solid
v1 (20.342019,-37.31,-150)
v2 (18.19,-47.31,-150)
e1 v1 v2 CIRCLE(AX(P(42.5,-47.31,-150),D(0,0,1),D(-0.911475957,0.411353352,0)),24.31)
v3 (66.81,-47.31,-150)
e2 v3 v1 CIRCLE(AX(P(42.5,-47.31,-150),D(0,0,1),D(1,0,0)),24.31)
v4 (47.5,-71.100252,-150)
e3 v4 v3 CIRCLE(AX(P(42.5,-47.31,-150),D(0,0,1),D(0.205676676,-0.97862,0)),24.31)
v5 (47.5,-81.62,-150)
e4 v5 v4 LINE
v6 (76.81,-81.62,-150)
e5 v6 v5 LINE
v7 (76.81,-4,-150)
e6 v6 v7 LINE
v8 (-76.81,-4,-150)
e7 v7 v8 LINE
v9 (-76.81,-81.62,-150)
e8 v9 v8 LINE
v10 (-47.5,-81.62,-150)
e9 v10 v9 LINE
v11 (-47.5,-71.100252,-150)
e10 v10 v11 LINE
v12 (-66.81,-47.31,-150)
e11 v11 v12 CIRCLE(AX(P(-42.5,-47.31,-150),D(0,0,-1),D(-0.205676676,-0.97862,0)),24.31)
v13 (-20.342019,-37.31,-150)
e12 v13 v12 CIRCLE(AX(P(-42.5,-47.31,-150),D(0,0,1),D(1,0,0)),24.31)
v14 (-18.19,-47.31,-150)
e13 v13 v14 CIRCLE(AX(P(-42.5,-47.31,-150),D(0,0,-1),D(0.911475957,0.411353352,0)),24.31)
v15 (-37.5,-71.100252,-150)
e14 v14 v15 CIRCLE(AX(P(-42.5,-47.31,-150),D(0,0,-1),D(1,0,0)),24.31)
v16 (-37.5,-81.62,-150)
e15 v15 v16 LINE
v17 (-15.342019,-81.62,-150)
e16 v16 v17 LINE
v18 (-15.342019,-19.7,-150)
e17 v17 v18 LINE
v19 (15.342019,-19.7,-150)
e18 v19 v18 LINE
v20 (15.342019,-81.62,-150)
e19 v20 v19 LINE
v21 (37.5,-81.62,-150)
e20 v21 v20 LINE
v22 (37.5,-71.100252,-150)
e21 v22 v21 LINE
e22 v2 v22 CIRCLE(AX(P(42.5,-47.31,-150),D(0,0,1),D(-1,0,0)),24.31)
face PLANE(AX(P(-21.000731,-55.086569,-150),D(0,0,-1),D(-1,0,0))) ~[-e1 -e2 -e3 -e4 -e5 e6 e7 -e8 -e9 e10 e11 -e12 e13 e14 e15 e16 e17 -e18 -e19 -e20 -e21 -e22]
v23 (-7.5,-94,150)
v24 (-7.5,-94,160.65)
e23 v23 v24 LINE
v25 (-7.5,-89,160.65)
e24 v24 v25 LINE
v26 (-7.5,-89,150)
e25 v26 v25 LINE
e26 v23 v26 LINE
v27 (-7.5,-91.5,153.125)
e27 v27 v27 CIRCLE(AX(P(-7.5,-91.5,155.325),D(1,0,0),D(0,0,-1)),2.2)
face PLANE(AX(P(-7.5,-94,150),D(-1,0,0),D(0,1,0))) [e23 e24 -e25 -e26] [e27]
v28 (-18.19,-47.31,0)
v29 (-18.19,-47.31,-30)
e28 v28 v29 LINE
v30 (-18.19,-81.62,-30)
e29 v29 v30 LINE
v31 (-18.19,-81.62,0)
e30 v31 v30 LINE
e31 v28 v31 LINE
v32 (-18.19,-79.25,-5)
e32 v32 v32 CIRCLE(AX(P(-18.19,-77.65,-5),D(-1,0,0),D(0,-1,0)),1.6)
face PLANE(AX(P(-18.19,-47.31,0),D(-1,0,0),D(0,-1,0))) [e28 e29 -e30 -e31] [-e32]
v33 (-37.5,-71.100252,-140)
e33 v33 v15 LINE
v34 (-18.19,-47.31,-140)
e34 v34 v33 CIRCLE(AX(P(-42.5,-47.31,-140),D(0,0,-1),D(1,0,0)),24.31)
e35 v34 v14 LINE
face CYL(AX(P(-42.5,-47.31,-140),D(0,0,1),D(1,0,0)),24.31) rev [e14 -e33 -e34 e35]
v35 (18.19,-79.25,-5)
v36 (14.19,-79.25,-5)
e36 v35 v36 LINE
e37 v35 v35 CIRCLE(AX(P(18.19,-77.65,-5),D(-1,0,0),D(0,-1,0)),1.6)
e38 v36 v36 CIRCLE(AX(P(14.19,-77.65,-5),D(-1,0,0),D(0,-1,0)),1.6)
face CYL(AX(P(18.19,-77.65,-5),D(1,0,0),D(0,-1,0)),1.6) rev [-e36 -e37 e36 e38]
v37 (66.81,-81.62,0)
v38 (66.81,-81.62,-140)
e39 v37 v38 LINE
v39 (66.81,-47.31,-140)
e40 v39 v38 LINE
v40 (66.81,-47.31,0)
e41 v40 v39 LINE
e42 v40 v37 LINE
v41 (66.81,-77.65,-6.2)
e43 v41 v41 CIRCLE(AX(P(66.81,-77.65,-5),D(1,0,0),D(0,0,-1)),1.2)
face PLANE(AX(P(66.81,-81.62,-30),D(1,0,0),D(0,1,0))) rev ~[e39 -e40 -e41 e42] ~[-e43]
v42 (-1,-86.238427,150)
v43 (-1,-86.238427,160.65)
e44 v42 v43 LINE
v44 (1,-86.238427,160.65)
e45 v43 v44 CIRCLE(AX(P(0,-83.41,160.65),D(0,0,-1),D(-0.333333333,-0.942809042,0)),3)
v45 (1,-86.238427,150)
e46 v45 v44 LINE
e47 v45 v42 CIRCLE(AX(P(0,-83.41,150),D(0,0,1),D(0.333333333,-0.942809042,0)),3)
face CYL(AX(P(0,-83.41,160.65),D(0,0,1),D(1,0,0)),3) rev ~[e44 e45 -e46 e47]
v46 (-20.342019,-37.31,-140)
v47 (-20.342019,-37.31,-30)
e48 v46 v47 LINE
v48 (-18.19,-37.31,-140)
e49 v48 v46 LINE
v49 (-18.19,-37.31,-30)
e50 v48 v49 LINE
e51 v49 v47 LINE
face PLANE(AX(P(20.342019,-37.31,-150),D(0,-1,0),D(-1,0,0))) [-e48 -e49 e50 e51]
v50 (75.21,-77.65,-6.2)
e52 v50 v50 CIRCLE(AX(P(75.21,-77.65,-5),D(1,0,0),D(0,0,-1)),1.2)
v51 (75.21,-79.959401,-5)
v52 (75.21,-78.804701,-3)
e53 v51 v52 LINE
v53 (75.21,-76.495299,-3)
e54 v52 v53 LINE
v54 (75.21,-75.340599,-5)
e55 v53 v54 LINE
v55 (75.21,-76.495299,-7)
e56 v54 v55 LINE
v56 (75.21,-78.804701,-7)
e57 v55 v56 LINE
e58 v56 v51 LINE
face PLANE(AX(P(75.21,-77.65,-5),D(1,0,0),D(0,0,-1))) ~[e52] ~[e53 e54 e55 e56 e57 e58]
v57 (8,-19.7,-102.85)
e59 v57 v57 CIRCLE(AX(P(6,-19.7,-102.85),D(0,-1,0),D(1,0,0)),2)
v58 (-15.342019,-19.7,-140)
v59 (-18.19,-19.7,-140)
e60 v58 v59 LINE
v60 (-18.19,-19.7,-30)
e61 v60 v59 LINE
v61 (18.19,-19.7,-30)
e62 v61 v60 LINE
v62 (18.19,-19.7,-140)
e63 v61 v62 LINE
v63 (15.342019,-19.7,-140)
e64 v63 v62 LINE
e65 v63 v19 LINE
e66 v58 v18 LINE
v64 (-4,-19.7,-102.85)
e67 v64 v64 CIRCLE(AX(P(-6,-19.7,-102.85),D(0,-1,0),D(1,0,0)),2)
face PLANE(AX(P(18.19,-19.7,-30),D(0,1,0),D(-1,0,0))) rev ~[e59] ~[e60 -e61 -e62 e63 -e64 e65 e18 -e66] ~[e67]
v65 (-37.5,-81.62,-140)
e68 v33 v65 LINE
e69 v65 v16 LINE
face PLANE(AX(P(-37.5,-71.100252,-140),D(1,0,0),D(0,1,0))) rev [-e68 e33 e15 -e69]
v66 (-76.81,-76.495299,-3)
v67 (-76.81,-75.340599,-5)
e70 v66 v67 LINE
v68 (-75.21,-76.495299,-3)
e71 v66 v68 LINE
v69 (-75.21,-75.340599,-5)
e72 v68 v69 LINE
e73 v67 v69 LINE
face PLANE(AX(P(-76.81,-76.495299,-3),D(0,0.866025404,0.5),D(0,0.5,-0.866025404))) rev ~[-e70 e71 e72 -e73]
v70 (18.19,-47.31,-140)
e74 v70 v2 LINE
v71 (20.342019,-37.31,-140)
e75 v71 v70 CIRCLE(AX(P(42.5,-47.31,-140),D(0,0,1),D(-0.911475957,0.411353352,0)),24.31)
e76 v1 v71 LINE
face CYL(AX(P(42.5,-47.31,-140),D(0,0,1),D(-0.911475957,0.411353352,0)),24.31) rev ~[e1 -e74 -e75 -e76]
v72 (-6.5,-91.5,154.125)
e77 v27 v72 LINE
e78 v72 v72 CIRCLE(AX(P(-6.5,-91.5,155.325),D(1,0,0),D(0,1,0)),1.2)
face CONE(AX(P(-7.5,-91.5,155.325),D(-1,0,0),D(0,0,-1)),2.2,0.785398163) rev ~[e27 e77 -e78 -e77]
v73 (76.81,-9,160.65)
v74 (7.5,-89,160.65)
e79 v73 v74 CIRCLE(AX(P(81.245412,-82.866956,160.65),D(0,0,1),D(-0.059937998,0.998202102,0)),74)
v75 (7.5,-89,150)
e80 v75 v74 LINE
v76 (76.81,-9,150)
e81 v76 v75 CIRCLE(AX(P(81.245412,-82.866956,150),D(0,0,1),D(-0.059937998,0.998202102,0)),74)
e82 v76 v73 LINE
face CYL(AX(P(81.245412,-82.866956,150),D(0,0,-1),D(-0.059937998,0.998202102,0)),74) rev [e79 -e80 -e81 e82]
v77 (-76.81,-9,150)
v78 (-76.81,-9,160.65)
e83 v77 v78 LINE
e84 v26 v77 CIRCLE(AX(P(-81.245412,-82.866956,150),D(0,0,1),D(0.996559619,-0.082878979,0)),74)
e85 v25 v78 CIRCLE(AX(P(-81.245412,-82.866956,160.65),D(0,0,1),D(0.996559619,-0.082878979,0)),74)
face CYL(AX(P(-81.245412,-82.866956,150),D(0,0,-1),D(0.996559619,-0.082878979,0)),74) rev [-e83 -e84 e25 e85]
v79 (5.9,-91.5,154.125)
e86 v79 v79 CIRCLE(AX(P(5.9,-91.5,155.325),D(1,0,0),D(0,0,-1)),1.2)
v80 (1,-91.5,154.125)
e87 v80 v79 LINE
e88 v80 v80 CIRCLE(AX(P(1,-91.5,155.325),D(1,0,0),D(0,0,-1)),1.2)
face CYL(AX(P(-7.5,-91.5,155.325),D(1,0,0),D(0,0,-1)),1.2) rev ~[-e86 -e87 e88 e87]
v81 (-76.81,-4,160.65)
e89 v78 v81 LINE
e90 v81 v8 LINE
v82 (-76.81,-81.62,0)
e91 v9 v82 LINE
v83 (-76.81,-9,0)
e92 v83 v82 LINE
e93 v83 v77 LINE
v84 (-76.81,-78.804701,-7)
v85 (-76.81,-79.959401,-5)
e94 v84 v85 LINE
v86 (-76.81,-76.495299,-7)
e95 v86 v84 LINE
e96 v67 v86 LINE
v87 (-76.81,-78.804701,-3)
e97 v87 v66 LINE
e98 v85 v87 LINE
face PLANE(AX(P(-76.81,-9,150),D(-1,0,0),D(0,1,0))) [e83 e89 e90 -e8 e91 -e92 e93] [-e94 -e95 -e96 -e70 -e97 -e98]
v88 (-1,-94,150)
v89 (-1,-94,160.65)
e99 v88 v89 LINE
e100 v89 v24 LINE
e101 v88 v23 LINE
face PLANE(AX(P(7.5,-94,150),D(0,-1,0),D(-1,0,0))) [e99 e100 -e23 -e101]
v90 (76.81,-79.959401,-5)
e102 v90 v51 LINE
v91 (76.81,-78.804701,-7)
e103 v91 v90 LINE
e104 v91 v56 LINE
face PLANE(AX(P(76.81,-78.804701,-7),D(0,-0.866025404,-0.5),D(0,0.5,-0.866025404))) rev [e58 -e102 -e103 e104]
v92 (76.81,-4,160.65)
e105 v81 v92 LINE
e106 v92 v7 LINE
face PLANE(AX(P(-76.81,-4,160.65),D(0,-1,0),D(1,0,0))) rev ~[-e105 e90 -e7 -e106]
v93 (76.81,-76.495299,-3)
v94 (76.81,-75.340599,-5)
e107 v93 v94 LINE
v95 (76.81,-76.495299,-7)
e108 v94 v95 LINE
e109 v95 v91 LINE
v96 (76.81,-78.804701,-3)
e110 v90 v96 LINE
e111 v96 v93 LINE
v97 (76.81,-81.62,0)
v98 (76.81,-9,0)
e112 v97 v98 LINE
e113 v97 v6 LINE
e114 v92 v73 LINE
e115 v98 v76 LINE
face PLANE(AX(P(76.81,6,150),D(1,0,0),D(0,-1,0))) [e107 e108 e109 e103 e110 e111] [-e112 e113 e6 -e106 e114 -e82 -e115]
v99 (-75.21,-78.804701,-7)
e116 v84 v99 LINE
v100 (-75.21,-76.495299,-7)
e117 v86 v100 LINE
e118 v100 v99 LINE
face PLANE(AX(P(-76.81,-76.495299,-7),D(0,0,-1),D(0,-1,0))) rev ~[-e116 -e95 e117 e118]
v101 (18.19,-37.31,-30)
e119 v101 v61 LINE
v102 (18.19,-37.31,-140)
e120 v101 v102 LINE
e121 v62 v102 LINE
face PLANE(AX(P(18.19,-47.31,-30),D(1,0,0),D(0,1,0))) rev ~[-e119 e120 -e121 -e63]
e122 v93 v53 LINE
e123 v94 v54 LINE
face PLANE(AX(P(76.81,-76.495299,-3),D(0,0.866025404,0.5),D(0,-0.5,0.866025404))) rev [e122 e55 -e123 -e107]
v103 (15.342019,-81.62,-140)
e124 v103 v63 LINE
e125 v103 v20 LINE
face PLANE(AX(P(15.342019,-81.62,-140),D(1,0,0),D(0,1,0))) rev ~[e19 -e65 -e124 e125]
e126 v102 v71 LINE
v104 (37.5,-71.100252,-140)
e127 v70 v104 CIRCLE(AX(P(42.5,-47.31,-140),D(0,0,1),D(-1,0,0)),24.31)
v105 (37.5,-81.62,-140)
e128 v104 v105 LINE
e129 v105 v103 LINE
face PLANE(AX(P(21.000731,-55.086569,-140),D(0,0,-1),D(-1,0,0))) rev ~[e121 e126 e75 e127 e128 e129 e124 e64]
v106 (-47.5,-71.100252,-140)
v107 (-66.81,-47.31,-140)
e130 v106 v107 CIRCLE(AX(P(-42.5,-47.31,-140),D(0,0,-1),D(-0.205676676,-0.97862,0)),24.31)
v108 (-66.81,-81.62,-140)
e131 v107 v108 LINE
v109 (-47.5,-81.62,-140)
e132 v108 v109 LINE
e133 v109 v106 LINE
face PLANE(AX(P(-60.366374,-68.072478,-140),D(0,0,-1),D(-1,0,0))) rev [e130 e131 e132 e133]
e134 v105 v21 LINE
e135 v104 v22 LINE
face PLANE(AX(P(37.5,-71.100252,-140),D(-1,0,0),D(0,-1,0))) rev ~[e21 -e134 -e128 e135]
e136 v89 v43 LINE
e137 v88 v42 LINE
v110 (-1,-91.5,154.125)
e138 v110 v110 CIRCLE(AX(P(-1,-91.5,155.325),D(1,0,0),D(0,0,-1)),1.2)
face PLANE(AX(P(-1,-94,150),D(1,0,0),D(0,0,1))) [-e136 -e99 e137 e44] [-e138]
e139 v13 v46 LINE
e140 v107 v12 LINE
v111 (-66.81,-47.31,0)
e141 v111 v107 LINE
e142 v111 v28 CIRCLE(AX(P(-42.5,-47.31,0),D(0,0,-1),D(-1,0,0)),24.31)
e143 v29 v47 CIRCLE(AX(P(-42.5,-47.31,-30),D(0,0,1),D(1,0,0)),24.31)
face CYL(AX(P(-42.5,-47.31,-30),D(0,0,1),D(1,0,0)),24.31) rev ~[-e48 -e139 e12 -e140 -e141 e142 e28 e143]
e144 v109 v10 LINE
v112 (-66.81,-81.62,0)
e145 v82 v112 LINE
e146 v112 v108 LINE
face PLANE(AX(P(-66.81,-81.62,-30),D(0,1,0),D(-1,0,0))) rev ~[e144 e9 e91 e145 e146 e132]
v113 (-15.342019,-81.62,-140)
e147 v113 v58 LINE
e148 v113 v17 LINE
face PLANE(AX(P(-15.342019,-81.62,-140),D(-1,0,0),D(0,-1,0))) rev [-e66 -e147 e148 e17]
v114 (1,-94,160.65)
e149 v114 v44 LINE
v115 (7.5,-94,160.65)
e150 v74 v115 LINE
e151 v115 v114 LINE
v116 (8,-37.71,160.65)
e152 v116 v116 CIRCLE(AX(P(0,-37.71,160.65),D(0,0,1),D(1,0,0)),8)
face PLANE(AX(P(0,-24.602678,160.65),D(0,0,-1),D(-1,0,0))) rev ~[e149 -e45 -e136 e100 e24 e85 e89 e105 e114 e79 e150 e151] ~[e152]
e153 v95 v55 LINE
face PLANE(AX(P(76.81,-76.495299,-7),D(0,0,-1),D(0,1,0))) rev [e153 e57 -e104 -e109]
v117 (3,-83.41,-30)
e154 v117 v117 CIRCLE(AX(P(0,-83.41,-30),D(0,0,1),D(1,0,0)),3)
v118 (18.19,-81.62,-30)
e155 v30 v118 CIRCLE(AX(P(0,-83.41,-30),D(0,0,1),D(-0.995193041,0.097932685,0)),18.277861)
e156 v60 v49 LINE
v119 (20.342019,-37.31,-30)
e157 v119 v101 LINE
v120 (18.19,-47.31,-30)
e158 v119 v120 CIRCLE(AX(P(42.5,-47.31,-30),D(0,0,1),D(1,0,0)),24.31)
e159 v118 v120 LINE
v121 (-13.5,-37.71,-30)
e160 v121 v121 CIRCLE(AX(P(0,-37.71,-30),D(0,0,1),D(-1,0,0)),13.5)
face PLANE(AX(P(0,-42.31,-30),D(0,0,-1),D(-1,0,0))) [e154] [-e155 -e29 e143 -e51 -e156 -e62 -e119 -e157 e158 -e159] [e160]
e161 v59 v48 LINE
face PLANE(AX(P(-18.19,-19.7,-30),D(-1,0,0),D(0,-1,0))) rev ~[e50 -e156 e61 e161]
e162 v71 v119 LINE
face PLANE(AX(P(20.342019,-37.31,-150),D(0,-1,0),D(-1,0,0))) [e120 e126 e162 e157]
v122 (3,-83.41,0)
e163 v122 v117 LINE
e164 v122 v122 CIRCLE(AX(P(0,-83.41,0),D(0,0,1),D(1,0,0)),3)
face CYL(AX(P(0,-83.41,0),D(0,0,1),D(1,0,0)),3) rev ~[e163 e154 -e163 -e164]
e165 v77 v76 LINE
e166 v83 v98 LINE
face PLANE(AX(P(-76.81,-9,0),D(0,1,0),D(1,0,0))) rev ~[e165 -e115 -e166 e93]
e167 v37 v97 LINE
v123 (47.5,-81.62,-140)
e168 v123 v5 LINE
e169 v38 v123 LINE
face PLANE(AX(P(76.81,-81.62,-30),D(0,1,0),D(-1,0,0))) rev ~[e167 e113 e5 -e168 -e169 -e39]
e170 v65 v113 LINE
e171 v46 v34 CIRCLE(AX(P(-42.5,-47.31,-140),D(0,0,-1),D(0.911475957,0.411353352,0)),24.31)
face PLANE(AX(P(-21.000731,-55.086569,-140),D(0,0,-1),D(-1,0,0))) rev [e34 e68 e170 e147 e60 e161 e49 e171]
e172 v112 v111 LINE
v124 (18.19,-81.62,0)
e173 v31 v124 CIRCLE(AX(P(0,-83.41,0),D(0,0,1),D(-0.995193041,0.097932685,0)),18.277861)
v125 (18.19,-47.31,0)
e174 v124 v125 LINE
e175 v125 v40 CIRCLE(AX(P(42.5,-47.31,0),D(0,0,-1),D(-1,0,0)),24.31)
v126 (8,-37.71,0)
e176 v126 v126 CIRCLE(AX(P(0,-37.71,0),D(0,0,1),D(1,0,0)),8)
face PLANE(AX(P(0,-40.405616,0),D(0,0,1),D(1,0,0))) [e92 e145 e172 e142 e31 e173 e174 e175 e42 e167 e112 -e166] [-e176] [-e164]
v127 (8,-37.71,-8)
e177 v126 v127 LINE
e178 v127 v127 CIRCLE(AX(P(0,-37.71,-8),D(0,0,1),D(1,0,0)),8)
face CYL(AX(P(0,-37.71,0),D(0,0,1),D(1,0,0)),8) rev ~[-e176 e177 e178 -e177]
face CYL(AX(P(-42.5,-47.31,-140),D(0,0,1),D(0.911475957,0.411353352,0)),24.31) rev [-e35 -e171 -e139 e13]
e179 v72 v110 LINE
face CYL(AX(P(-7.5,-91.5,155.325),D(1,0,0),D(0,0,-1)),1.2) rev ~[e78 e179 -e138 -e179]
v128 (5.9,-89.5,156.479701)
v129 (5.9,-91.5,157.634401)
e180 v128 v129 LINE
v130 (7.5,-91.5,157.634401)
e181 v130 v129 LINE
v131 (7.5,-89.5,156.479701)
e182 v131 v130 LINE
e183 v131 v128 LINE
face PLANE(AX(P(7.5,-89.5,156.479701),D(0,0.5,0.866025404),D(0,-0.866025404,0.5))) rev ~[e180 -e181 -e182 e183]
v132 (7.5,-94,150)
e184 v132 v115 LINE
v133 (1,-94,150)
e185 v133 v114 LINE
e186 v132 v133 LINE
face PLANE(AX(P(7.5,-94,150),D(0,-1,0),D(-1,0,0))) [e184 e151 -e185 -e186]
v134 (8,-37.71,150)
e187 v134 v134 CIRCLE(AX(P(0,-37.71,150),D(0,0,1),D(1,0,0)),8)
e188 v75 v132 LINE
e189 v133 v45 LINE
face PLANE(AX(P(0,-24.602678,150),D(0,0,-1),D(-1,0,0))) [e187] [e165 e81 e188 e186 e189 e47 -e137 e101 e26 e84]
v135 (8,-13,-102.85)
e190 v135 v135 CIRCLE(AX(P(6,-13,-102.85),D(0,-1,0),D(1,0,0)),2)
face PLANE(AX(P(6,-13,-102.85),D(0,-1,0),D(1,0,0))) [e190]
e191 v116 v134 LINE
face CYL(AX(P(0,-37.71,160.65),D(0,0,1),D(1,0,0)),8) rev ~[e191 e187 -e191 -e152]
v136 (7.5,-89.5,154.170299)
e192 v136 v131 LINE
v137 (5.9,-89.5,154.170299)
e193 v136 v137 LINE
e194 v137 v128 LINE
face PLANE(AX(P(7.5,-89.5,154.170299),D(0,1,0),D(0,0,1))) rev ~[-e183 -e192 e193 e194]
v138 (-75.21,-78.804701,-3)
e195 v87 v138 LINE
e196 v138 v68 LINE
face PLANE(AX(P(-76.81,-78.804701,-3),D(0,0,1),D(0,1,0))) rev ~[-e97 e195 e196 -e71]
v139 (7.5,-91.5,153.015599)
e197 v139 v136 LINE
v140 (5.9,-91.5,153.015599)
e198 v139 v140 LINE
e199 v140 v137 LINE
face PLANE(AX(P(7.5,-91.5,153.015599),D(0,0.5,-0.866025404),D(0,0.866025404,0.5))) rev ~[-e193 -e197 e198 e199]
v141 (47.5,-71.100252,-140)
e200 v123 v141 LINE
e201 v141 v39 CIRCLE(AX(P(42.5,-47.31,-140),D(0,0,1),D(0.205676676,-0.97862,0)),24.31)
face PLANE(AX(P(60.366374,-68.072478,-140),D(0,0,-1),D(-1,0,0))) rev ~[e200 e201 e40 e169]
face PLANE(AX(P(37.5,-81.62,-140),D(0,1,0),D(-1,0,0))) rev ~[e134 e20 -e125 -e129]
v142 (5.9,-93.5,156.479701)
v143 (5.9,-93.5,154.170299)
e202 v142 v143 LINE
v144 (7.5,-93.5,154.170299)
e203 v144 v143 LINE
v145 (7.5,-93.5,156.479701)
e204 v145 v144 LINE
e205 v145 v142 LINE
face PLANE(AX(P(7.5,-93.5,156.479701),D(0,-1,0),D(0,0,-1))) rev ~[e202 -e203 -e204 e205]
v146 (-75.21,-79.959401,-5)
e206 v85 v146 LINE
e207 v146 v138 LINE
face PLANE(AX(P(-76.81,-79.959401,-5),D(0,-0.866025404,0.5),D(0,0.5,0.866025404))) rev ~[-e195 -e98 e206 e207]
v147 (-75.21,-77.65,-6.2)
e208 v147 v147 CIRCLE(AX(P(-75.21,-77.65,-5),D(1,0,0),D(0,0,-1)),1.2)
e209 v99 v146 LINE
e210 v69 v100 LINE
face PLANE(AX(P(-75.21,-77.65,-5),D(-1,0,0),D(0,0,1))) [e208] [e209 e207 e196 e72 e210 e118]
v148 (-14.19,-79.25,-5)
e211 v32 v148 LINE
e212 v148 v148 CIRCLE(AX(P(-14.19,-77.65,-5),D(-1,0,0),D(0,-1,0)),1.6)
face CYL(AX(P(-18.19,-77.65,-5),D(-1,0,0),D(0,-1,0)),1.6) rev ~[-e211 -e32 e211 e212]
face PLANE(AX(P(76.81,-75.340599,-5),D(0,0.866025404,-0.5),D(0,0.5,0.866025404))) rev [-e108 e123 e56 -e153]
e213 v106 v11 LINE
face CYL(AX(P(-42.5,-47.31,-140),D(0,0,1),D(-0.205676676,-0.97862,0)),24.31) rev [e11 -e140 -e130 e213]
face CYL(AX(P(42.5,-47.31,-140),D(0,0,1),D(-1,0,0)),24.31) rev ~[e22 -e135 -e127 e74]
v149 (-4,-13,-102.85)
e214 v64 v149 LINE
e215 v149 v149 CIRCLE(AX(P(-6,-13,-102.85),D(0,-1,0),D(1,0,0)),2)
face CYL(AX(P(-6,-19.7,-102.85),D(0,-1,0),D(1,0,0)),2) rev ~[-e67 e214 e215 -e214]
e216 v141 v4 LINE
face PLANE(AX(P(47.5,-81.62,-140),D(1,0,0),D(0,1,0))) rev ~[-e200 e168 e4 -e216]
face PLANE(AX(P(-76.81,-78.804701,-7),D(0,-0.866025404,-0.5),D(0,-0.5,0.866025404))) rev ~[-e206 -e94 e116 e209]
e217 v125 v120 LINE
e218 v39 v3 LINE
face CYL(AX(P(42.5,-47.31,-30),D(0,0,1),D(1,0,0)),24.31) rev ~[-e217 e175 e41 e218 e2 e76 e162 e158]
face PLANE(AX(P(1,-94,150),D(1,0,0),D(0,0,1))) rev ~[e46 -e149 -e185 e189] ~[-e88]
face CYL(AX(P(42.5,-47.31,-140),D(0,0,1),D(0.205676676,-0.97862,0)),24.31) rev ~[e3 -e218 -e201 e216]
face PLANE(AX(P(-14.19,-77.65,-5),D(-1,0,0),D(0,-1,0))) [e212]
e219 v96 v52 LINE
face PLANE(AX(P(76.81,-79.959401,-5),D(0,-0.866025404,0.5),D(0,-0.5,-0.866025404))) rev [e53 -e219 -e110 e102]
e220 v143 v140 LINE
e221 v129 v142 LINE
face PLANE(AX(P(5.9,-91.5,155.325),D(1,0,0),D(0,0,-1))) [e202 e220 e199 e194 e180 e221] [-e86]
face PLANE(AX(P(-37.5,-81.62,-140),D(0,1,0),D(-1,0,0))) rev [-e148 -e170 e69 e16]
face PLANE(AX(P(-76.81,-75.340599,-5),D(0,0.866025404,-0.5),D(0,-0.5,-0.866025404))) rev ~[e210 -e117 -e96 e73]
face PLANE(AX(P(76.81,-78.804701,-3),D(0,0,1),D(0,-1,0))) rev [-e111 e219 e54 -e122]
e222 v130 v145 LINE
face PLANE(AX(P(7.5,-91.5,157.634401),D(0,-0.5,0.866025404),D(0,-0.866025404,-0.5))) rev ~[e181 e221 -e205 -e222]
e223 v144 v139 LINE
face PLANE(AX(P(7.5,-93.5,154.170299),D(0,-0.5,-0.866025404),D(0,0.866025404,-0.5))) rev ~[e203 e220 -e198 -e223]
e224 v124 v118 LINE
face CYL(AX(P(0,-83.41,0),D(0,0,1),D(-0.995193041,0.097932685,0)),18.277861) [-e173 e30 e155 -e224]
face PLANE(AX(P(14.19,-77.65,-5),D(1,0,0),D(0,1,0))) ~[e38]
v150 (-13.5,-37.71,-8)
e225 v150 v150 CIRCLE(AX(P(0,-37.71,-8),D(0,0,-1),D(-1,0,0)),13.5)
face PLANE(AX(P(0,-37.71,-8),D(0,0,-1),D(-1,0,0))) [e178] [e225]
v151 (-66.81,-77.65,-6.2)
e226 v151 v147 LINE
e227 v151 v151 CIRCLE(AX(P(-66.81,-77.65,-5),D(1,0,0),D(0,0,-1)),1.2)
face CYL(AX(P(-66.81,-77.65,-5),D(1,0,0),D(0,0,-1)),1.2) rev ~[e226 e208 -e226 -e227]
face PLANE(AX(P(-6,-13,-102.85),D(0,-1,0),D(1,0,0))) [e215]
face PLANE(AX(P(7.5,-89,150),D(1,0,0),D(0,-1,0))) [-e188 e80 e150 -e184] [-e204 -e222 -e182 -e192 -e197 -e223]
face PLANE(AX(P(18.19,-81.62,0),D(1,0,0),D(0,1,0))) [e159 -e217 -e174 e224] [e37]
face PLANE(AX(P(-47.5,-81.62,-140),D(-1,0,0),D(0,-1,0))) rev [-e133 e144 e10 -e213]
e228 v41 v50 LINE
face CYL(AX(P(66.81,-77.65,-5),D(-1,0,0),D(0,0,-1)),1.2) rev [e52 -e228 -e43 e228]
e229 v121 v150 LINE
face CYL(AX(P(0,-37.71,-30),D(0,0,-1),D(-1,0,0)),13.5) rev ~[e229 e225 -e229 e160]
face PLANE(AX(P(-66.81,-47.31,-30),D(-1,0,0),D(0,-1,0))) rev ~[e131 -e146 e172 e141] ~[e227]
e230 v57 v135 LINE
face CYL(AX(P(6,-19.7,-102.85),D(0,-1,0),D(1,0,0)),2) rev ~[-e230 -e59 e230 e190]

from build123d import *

# Parameters (mm, degrees)
SKETCH1_R                                           = 3
SKETCH1_R_2                                         = 8
BOSS_EXTRUDE1_DEPTH                                 = 30
BOSS_EXTRUDE2_DEPTH                                 = 120
SKETCH5_W                                           = 153.62
SKETCH5_H                                           = 9
SKETCH5_H_2                                         = 6
BOSS_EXTRUDE3_DEPTH                                 = 150
SKETCH6_W                                           = 153.62
SKETCH6_H                                           = 6
BOSS_EXTRUDE4_DEPTH                                 = 150
BOSS_EXTRUDE5_DEPTH                                 = 10.65
CUT_EXTRUDE1_REACH                                  = 337.773
SKETCH8_R                                           = 3
SKETCH8_R_2                                         = 8
SKETCH9_R                                           = 13.5
CUT_EXTRUDE2_DEPTH                                  = 22
SKETCH10_R                                          = 2
CUT_EXTRUDE3_DEPTH                                  = 6.7
SKETCH12_W                                          = 40.684038992
SKETCH12_H                                          = 10
CUT_EXTRUDE5_DEPTH                                  = 120
BOSS_EXTRUDE6_START                                 = -10
BOSS_EXTRUDE6_DEPTH                                 = 10
SKETCH11_W                                          = 153.62
SKETCH11_H                                          = 10
CUT_EXTRUDE4_DEPTH                                  = 336.773166974
CUT_EXTRUDE6_REACH                                  = 201.52
CUT_EXTRUDE6_END_RADIUS                             = 3
SKETCH14_W                                          = 2
SKETCH14_H                                          = 10.65
CSK_FOR_M2_COUNTERSUNK_FLAT_HEAD_SCREW1_D           = 2.4
CSK_FOR_M2_COUNTERSUNK_FLAT_HEAD_SCREW1_DEPTH       = 16.5
CSK_FOR_M2_COUNTERSUNK_FLAT_HEAD_SCREW1_CSINK_D     = 4.4
CSK_FOR_M2_COUNTERSUNK_FLAT_HEAD_SCREW1_CSINK_ANGLE = 90
CSK_FOR_M2_COUNTERSUNK_FLAT_HEAD_SCREW1_TIP         = 0.721032743
CUT_EXTRUDE7_DEPTH                                  = 1.6
SKETCH22_R                                          = 1.6
CUT_EXTRUDE8_DEPTH                                  = 4
CUT_EXTRUDE9_DEPTH                                  = 1.6
CUT_EXTRUDE10_REACH                                 = 240.276
SKETCH24_R                                          = 1.2


with BuildPart() as part:
    # Sketch1 → Boss-Extrude1 (new body)
    with BuildSketch(Plane.XY):
        with BuildLine():
            Line((-18.19, -47.31), (-18.19, -81.62))
            ThreePointArc((-18.19, -81.62), (0, -101.687860925), (18.19, -81.62))
            Line((18.19, -81.62), (18.19, -47.31))
            ThreePointArc((18.19, -47.31), (42.5, -23), (66.81, -47.31))
            Line((66.81, -47.31), (66.81, -81.62))
            Line((66.81, -81.62), (76.81, -81.62))
            Line((76.81, -81.62), (76.81, 0))
            Line((76.81, 0), (-76.81, 0))
            Line((-76.81, 0), (-76.81, -81.62))
            Line((-76.81, -81.62), (-66.81, -81.62))
            Line((-66.81, -81.62), (-66.81, -47.31))
            ThreePointArc((-66.81, -47.31), (-42.5, -23), (-18.19, -47.31))
        make_face()
        with Locations((0, -83.41)):
            Circle(SKETCH1_R, mode=Mode.SUBTRACT)
        with Locations((0, -37.71)):
            Circle(SKETCH1_R_2, mode=Mode.SUBTRACT)
    extrude(amount=-BOSS_EXTRUDE1_DEPTH)

    # Sketch3 → Boss-Extrude2 (add)
    with BuildSketch(Plane(origin=(0, 0, -30), x_dir=(-1, 0, 0), z_dir=(0, 0, -1))):
        with BuildLine():
            Line((-76.81, 0), (-76.81, -81.62))
            Line((-76.81, -81.62), (-66.81, -81.62))
            Line((-66.81, -81.62), (-66.81, -47.31))
            ThreePointArc((-66.81, -47.31), (-42.5, -23), (-18.19, -47.31))
            Line((-18.19, -47.31), (-18.19, -19.7))
            Line((-18.19, -19.7), (18.19, -19.7))
            Line((18.19, -19.7), (18.19, -47.31))
            ThreePointArc((18.19, -47.31), (42.5, -23), (66.81, -47.31))
            Line((66.81, -47.31), (66.81, -81.62))
            Line((66.81, -81.62), (76.81, -81.62))
            Line((76.81, -81.62), (76.81, 0))
            Line((76.81, 0), (-76.81, 0))
        make_face()
    extrude(amount=BOSS_EXTRUDE2_DEPTH)

    # Sketch5 → Boss-Extrude3 (add)
    with BuildSketch(Plane.XY):
        with Locations((0, -4.5)):
            Rectangle(SKETCH5_W, SKETCH5_H)
        with Locations((0, 3)):
            Rectangle(SKETCH5_W, SKETCH5_H_2)
    extrude(amount=BOSS_EXTRUDE3_DEPTH)

    # Sketch6 → Boss-Extrude4 (add)
    with BuildSketch(Plane(origin=(0, 0, 0), x_dir=(-1, 0, 0), z_dir=(0, 0, -1))):
        with Locations((0, 3)):
            Rectangle(SKETCH6_W, SKETCH6_H)
    extrude(amount=BOSS_EXTRUDE4_DEPTH)

    # Sketch7 → Boss-Extrude5 (add)
    with BuildSketch(Plane.XY.offset(150)):
        with BuildLine():
            Line((-76.81, -9), (-76.81, 6))
            Line((-76.81, 6), (76.81, 6))
            Line((76.81, 6), (76.81, -9))
            ThreePointArc((76.81, -9), (25.316346961, -34.411411974), (7.5, -89))
            Line((7.5, -89), (7.5, -94))
            Line((7.5, -94), (-7.5, -94))
            Line((-7.5, -94), (-7.5, -89))
            ThreePointArc((-7.5, -89), (-25.316346961, -34.411411974), (-76.81, -9))
        make_face()
    extrude(amount=BOSS_EXTRUDE5_DEPTH)

    # Sketch8 → Cut-Extrude1 (cut, up to next)
    with BuildSketch(Plane.XY.offset(160.65), mode=Mode.PRIVATE) as cut_extrude1_sk1:
        with Locations((0, -83.41)):
            Circle(SKETCH8_R)
    cut_extrude1_tool1 = extrude(cut_extrude1_sk1.sketch, amount=-CUT_EXTRUDE1_REACH, mode=Mode.PRIVATE) & part.part
    # Sketch8 → Cut-Extrude1 (cut, up to next)
    with BuildSketch(Plane.XY.offset(160.65), mode=Mode.PRIVATE) as cut_extrude1_sk2:
        with Locations((0, -37.71)):
            Circle(SKETCH8_R_2)
    cut_extrude1_tool2 = extrude(cut_extrude1_sk2.sketch, amount=-CUT_EXTRUDE1_REACH, mode=Mode.PRIVATE) & part.part
    add(cut_extrude1_tool1.solids().sort_by_distance((0, -83.41, 160.65))[0], mode=Mode.SUBTRACT)
    add(cut_extrude1_tool2.solids().sort_by_distance((0, -37.71, 160.65))[0], mode=Mode.SUBTRACT)

    # Sketch9 → Cut-Extrude2 (cut)
    with BuildSketch(Plane(origin=(0, 0, -30), x_dir=(-1, 0, 0), z_dir=(0, 0, -1))):
        with Locations((0, -37.71)):
            Circle(SKETCH9_R)
    extrude(amount=-CUT_EXTRUDE2_DEPTH, mode=Mode.SUBTRACT)

    # Sketch10 → Cut-Extrude3 (cut)
    with BuildSketch(Plane.XZ.offset(19.7)):
        with Locations((-6, -102.85)):
            Circle(SKETCH10_R)
        with Locations((6, -102.85)):
            Circle(SKETCH10_R)
    extrude(amount=-CUT_EXTRUDE3_DEPTH, mode=Mode.SUBTRACT)

    # Sketch12 → Cut-Extrude5 (cut)
    with BuildSketch(Plane(origin=(0, 0, -150), x_dir=(-1, 0, 0), z_dir=(0, 0, -1))):
        with Locations((0, -42.31)):
            Rectangle(SKETCH12_W, SKETCH12_H)
    extrude(amount=-CUT_EXTRUDE5_DEPTH, mode=Mode.SUBTRACT)

    # Sketch13 → Boss-Extrude6 (add)
    with BuildSketch(Plane(origin=(0, 0, -150), x_dir=(-1, 0, 0), z_dir=(0, 0, -1)).offset(BOSS_EXTRUDE6_START)):
        with BuildLine():
            Line((-18.19, -37.31), (-20.342019496, -37.31))
            ThreePointArc((-20.342019496, -37.31), (-18.734093684, -42.195530626), (-18.19, -47.31))
            ThreePointArc((-18.19, -47.31), (-23.625068212, -62.630347581), (-37.5, -71.100252205))
            Line((-37.5, -71.100252205), (-37.5, -81.62))
            Line((-37.5, -81.62), (-15.342019496, -81.62))
            Line((-15.342019496, -81.62), (-15.342019496, -37.31))
            Line((-15.342019496, -37.31), (-15.342019496, -19.7))
            Line((-15.342019496, -19.7), (-18.19, -19.7))
            Line((-18.19, -19.7), (-18.19, -37.31))
        make_face()
        with BuildLine():
            ThreePointArc((-47.5, -71.100252205), (-61.374931788, -62.630347581), (-66.81, -47.31))
            Line((-66.81, -47.31), (-66.81, -81.62))
            Line((-66.81, -81.62), (-47.5, -81.62))
            Line((-47.5, -81.62), (-47.5, -71.100252205))
        make_face()
    boss_extrude6 = extrude(amount=BOSS_EXTRUDE6_DEPTH)

    # Sketch11 → Cut-Extrude4 (cut, through all)
    with BuildSketch(Plane.XY.offset(160.65)):
        with Locations((0, 1)):
            Rectangle(SKETCH11_W, SKETCH11_H)
    extrude(amount=-CUT_EXTRUDE4_DEPTH, mode=Mode.SUBTRACT)

    # Mirror1: Boss-Extrude6 across plane
    add(boss_extrude6.mirror(Plane(origin=(0, 0, 0), x_dir=(0, 0, 1), z_dir=(1, 0, 0))))

    # Cut-Extrude6: up to this cylinder (the profile starts outside it)
    cut_extrude6_end = Plane(origin=(0, -83.41, 155.325), z_dir=(0, 0, 1)) * Cylinder(CUT_EXTRUDE6_END_RADIUS, 410.04, mode=Mode.PRIVATE)
    # Sketch14 → Cut-Extrude6 (cut, up to the surface)
    with BuildSketch(Plane.XZ.offset(94), mode=Mode.PRIVATE) as cut_extrude6_sk1:
        with Locations((0, 155.325)):
            Rectangle(SKETCH14_W, SKETCH14_H)
    cut_extrude6_tool1 = extrude(cut_extrude6_sk1.sketch, amount=-CUT_EXTRUDE6_REACH, mode=Mode.PRIVATE) - cut_extrude6_end
    add(cut_extrude6_tool1.solids().sort_by_distance((0, -94, 155.325))[0], mode=Mode.SUBTRACT)

    # CSK for M2 Countersunk Flat Head Screw1
    with Locations(Plane.ZY.offset(7.5)):
        with Locations((155.325, -91.5)):
            CounterSinkHole(CSK_FOR_M2_COUNTERSUNK_FLAT_HEAD_SCREW1_D / 2, CSK_FOR_M2_COUNTERSUNK_FLAT_HEAD_SCREW1_CSINK_D / 2, depth=CSK_FOR_M2_COUNTERSUNK_FLAT_HEAD_SCREW1_DEPTH, counter_sink_angle=CSK_FOR_M2_COUNTERSUNK_FLAT_HEAD_SCREW1_CSINK_ANGLE)
            with Locations((0, 0, -(CSK_FOR_M2_COUNTERSUNK_FLAT_HEAD_SCREW1_DEPTH + CSK_FOR_M2_COUNTERSUNK_FLAT_HEAD_SCREW1_TIP / 2))):  # 118° drill point
                Cone(0, CSK_FOR_M2_COUNTERSUNK_FLAT_HEAD_SCREW1_D / 2, CSK_FOR_M2_COUNTERSUNK_FLAT_HEAD_SCREW1_TIP, mode=Mode.SUBTRACT)

    # Sketch19 → Cut-Extrude7 (cut)
    with BuildSketch(Plane(origin=(7.5, 0, 0), x_dir=(0, 0, -1), z_dir=(1, 0, 0))):
        Polygon((-154.170299462, -93.5), (-153.015598923, -91.5), (-154.170299462, -89.5), (-156.479700538, -89.5), (-157.634401077, -91.5), (-156.479700538, -93.5), align=None)
    extrude(amount=-CUT_EXTRUDE7_DEPTH, mode=Mode.SUBTRACT)

    # Sketch22 → Cut-Extrude8 (cut)
    with BuildSketch(Plane.ZY.offset(18.19)):
        with Locations(Location((-5, -77.65, 0), (0, 0, 270))):
            Circle(SKETCH22_R)
    cut_extrude8 = extrude(amount=-CUT_EXTRUDE8_DEPTH, mode=Mode.SUBTRACT)

    # Mirror2: Cut-Extrude8 across plane
    add(cut_extrude8.mirror(Plane(origin=(0, 0, 0), x_dir=(0, 0, 1), z_dir=(1, 0, 0))), mode=Mode.SUBTRACT)

    # Sketch23 → Cut-Extrude9 (cut)
    with BuildSketch(Plane.ZY.offset(76.81)):
        Polygon((-5, -75.340598923), (-7, -76.495299462), (-7, -78.804700538), (-5, -79.959401077), (-3, -78.804700538), (-3, -76.495299462), align=None)
    cut_extrude9 = extrude(amount=-CUT_EXTRUDE9_DEPTH, mode=Mode.SUBTRACT)

    # Mirror3: Cut-Extrude9 across plane
    add(cut_extrude9.mirror(Plane(origin=(0, 0, 0), x_dir=(0, 0, 1), z_dir=(1, 0, 0))), mode=Mode.SUBTRACT)

    # Sketch24 → Cut-Extrude10 (cut, up to next)
    with BuildSketch(Plane(origin=(-66.81, 0, 0), x_dir=(0, 0, -1), z_dir=(1, 0, 0)), mode=Mode.PRIVATE) as cut_extrude10_sk1:
        with Locations((5, -77.65)):
            Circle(SKETCH24_R)
    cut_extrude10_tool1 = extrude(cut_extrude10_sk1.sketch, amount=-CUT_EXTRUDE10_REACH, mode=Mode.PRIVATE) & part.part
    cut_extrude10 = cut_extrude10_tool1.solids().sort_by_distance((-66.81, -77.65, -5))[0]
    add(cut_extrude10, mode=Mode.SUBTRACT)

    # Mirror4: Cut-Extrude10 across plane
    add(cut_extrude10.mirror(Plane(origin=(0, 0, 0), x_dir=(0, 0, 1), z_dir=(1, 0, 0))), mode=Mode.SUBTRACT)


solid = part.part
